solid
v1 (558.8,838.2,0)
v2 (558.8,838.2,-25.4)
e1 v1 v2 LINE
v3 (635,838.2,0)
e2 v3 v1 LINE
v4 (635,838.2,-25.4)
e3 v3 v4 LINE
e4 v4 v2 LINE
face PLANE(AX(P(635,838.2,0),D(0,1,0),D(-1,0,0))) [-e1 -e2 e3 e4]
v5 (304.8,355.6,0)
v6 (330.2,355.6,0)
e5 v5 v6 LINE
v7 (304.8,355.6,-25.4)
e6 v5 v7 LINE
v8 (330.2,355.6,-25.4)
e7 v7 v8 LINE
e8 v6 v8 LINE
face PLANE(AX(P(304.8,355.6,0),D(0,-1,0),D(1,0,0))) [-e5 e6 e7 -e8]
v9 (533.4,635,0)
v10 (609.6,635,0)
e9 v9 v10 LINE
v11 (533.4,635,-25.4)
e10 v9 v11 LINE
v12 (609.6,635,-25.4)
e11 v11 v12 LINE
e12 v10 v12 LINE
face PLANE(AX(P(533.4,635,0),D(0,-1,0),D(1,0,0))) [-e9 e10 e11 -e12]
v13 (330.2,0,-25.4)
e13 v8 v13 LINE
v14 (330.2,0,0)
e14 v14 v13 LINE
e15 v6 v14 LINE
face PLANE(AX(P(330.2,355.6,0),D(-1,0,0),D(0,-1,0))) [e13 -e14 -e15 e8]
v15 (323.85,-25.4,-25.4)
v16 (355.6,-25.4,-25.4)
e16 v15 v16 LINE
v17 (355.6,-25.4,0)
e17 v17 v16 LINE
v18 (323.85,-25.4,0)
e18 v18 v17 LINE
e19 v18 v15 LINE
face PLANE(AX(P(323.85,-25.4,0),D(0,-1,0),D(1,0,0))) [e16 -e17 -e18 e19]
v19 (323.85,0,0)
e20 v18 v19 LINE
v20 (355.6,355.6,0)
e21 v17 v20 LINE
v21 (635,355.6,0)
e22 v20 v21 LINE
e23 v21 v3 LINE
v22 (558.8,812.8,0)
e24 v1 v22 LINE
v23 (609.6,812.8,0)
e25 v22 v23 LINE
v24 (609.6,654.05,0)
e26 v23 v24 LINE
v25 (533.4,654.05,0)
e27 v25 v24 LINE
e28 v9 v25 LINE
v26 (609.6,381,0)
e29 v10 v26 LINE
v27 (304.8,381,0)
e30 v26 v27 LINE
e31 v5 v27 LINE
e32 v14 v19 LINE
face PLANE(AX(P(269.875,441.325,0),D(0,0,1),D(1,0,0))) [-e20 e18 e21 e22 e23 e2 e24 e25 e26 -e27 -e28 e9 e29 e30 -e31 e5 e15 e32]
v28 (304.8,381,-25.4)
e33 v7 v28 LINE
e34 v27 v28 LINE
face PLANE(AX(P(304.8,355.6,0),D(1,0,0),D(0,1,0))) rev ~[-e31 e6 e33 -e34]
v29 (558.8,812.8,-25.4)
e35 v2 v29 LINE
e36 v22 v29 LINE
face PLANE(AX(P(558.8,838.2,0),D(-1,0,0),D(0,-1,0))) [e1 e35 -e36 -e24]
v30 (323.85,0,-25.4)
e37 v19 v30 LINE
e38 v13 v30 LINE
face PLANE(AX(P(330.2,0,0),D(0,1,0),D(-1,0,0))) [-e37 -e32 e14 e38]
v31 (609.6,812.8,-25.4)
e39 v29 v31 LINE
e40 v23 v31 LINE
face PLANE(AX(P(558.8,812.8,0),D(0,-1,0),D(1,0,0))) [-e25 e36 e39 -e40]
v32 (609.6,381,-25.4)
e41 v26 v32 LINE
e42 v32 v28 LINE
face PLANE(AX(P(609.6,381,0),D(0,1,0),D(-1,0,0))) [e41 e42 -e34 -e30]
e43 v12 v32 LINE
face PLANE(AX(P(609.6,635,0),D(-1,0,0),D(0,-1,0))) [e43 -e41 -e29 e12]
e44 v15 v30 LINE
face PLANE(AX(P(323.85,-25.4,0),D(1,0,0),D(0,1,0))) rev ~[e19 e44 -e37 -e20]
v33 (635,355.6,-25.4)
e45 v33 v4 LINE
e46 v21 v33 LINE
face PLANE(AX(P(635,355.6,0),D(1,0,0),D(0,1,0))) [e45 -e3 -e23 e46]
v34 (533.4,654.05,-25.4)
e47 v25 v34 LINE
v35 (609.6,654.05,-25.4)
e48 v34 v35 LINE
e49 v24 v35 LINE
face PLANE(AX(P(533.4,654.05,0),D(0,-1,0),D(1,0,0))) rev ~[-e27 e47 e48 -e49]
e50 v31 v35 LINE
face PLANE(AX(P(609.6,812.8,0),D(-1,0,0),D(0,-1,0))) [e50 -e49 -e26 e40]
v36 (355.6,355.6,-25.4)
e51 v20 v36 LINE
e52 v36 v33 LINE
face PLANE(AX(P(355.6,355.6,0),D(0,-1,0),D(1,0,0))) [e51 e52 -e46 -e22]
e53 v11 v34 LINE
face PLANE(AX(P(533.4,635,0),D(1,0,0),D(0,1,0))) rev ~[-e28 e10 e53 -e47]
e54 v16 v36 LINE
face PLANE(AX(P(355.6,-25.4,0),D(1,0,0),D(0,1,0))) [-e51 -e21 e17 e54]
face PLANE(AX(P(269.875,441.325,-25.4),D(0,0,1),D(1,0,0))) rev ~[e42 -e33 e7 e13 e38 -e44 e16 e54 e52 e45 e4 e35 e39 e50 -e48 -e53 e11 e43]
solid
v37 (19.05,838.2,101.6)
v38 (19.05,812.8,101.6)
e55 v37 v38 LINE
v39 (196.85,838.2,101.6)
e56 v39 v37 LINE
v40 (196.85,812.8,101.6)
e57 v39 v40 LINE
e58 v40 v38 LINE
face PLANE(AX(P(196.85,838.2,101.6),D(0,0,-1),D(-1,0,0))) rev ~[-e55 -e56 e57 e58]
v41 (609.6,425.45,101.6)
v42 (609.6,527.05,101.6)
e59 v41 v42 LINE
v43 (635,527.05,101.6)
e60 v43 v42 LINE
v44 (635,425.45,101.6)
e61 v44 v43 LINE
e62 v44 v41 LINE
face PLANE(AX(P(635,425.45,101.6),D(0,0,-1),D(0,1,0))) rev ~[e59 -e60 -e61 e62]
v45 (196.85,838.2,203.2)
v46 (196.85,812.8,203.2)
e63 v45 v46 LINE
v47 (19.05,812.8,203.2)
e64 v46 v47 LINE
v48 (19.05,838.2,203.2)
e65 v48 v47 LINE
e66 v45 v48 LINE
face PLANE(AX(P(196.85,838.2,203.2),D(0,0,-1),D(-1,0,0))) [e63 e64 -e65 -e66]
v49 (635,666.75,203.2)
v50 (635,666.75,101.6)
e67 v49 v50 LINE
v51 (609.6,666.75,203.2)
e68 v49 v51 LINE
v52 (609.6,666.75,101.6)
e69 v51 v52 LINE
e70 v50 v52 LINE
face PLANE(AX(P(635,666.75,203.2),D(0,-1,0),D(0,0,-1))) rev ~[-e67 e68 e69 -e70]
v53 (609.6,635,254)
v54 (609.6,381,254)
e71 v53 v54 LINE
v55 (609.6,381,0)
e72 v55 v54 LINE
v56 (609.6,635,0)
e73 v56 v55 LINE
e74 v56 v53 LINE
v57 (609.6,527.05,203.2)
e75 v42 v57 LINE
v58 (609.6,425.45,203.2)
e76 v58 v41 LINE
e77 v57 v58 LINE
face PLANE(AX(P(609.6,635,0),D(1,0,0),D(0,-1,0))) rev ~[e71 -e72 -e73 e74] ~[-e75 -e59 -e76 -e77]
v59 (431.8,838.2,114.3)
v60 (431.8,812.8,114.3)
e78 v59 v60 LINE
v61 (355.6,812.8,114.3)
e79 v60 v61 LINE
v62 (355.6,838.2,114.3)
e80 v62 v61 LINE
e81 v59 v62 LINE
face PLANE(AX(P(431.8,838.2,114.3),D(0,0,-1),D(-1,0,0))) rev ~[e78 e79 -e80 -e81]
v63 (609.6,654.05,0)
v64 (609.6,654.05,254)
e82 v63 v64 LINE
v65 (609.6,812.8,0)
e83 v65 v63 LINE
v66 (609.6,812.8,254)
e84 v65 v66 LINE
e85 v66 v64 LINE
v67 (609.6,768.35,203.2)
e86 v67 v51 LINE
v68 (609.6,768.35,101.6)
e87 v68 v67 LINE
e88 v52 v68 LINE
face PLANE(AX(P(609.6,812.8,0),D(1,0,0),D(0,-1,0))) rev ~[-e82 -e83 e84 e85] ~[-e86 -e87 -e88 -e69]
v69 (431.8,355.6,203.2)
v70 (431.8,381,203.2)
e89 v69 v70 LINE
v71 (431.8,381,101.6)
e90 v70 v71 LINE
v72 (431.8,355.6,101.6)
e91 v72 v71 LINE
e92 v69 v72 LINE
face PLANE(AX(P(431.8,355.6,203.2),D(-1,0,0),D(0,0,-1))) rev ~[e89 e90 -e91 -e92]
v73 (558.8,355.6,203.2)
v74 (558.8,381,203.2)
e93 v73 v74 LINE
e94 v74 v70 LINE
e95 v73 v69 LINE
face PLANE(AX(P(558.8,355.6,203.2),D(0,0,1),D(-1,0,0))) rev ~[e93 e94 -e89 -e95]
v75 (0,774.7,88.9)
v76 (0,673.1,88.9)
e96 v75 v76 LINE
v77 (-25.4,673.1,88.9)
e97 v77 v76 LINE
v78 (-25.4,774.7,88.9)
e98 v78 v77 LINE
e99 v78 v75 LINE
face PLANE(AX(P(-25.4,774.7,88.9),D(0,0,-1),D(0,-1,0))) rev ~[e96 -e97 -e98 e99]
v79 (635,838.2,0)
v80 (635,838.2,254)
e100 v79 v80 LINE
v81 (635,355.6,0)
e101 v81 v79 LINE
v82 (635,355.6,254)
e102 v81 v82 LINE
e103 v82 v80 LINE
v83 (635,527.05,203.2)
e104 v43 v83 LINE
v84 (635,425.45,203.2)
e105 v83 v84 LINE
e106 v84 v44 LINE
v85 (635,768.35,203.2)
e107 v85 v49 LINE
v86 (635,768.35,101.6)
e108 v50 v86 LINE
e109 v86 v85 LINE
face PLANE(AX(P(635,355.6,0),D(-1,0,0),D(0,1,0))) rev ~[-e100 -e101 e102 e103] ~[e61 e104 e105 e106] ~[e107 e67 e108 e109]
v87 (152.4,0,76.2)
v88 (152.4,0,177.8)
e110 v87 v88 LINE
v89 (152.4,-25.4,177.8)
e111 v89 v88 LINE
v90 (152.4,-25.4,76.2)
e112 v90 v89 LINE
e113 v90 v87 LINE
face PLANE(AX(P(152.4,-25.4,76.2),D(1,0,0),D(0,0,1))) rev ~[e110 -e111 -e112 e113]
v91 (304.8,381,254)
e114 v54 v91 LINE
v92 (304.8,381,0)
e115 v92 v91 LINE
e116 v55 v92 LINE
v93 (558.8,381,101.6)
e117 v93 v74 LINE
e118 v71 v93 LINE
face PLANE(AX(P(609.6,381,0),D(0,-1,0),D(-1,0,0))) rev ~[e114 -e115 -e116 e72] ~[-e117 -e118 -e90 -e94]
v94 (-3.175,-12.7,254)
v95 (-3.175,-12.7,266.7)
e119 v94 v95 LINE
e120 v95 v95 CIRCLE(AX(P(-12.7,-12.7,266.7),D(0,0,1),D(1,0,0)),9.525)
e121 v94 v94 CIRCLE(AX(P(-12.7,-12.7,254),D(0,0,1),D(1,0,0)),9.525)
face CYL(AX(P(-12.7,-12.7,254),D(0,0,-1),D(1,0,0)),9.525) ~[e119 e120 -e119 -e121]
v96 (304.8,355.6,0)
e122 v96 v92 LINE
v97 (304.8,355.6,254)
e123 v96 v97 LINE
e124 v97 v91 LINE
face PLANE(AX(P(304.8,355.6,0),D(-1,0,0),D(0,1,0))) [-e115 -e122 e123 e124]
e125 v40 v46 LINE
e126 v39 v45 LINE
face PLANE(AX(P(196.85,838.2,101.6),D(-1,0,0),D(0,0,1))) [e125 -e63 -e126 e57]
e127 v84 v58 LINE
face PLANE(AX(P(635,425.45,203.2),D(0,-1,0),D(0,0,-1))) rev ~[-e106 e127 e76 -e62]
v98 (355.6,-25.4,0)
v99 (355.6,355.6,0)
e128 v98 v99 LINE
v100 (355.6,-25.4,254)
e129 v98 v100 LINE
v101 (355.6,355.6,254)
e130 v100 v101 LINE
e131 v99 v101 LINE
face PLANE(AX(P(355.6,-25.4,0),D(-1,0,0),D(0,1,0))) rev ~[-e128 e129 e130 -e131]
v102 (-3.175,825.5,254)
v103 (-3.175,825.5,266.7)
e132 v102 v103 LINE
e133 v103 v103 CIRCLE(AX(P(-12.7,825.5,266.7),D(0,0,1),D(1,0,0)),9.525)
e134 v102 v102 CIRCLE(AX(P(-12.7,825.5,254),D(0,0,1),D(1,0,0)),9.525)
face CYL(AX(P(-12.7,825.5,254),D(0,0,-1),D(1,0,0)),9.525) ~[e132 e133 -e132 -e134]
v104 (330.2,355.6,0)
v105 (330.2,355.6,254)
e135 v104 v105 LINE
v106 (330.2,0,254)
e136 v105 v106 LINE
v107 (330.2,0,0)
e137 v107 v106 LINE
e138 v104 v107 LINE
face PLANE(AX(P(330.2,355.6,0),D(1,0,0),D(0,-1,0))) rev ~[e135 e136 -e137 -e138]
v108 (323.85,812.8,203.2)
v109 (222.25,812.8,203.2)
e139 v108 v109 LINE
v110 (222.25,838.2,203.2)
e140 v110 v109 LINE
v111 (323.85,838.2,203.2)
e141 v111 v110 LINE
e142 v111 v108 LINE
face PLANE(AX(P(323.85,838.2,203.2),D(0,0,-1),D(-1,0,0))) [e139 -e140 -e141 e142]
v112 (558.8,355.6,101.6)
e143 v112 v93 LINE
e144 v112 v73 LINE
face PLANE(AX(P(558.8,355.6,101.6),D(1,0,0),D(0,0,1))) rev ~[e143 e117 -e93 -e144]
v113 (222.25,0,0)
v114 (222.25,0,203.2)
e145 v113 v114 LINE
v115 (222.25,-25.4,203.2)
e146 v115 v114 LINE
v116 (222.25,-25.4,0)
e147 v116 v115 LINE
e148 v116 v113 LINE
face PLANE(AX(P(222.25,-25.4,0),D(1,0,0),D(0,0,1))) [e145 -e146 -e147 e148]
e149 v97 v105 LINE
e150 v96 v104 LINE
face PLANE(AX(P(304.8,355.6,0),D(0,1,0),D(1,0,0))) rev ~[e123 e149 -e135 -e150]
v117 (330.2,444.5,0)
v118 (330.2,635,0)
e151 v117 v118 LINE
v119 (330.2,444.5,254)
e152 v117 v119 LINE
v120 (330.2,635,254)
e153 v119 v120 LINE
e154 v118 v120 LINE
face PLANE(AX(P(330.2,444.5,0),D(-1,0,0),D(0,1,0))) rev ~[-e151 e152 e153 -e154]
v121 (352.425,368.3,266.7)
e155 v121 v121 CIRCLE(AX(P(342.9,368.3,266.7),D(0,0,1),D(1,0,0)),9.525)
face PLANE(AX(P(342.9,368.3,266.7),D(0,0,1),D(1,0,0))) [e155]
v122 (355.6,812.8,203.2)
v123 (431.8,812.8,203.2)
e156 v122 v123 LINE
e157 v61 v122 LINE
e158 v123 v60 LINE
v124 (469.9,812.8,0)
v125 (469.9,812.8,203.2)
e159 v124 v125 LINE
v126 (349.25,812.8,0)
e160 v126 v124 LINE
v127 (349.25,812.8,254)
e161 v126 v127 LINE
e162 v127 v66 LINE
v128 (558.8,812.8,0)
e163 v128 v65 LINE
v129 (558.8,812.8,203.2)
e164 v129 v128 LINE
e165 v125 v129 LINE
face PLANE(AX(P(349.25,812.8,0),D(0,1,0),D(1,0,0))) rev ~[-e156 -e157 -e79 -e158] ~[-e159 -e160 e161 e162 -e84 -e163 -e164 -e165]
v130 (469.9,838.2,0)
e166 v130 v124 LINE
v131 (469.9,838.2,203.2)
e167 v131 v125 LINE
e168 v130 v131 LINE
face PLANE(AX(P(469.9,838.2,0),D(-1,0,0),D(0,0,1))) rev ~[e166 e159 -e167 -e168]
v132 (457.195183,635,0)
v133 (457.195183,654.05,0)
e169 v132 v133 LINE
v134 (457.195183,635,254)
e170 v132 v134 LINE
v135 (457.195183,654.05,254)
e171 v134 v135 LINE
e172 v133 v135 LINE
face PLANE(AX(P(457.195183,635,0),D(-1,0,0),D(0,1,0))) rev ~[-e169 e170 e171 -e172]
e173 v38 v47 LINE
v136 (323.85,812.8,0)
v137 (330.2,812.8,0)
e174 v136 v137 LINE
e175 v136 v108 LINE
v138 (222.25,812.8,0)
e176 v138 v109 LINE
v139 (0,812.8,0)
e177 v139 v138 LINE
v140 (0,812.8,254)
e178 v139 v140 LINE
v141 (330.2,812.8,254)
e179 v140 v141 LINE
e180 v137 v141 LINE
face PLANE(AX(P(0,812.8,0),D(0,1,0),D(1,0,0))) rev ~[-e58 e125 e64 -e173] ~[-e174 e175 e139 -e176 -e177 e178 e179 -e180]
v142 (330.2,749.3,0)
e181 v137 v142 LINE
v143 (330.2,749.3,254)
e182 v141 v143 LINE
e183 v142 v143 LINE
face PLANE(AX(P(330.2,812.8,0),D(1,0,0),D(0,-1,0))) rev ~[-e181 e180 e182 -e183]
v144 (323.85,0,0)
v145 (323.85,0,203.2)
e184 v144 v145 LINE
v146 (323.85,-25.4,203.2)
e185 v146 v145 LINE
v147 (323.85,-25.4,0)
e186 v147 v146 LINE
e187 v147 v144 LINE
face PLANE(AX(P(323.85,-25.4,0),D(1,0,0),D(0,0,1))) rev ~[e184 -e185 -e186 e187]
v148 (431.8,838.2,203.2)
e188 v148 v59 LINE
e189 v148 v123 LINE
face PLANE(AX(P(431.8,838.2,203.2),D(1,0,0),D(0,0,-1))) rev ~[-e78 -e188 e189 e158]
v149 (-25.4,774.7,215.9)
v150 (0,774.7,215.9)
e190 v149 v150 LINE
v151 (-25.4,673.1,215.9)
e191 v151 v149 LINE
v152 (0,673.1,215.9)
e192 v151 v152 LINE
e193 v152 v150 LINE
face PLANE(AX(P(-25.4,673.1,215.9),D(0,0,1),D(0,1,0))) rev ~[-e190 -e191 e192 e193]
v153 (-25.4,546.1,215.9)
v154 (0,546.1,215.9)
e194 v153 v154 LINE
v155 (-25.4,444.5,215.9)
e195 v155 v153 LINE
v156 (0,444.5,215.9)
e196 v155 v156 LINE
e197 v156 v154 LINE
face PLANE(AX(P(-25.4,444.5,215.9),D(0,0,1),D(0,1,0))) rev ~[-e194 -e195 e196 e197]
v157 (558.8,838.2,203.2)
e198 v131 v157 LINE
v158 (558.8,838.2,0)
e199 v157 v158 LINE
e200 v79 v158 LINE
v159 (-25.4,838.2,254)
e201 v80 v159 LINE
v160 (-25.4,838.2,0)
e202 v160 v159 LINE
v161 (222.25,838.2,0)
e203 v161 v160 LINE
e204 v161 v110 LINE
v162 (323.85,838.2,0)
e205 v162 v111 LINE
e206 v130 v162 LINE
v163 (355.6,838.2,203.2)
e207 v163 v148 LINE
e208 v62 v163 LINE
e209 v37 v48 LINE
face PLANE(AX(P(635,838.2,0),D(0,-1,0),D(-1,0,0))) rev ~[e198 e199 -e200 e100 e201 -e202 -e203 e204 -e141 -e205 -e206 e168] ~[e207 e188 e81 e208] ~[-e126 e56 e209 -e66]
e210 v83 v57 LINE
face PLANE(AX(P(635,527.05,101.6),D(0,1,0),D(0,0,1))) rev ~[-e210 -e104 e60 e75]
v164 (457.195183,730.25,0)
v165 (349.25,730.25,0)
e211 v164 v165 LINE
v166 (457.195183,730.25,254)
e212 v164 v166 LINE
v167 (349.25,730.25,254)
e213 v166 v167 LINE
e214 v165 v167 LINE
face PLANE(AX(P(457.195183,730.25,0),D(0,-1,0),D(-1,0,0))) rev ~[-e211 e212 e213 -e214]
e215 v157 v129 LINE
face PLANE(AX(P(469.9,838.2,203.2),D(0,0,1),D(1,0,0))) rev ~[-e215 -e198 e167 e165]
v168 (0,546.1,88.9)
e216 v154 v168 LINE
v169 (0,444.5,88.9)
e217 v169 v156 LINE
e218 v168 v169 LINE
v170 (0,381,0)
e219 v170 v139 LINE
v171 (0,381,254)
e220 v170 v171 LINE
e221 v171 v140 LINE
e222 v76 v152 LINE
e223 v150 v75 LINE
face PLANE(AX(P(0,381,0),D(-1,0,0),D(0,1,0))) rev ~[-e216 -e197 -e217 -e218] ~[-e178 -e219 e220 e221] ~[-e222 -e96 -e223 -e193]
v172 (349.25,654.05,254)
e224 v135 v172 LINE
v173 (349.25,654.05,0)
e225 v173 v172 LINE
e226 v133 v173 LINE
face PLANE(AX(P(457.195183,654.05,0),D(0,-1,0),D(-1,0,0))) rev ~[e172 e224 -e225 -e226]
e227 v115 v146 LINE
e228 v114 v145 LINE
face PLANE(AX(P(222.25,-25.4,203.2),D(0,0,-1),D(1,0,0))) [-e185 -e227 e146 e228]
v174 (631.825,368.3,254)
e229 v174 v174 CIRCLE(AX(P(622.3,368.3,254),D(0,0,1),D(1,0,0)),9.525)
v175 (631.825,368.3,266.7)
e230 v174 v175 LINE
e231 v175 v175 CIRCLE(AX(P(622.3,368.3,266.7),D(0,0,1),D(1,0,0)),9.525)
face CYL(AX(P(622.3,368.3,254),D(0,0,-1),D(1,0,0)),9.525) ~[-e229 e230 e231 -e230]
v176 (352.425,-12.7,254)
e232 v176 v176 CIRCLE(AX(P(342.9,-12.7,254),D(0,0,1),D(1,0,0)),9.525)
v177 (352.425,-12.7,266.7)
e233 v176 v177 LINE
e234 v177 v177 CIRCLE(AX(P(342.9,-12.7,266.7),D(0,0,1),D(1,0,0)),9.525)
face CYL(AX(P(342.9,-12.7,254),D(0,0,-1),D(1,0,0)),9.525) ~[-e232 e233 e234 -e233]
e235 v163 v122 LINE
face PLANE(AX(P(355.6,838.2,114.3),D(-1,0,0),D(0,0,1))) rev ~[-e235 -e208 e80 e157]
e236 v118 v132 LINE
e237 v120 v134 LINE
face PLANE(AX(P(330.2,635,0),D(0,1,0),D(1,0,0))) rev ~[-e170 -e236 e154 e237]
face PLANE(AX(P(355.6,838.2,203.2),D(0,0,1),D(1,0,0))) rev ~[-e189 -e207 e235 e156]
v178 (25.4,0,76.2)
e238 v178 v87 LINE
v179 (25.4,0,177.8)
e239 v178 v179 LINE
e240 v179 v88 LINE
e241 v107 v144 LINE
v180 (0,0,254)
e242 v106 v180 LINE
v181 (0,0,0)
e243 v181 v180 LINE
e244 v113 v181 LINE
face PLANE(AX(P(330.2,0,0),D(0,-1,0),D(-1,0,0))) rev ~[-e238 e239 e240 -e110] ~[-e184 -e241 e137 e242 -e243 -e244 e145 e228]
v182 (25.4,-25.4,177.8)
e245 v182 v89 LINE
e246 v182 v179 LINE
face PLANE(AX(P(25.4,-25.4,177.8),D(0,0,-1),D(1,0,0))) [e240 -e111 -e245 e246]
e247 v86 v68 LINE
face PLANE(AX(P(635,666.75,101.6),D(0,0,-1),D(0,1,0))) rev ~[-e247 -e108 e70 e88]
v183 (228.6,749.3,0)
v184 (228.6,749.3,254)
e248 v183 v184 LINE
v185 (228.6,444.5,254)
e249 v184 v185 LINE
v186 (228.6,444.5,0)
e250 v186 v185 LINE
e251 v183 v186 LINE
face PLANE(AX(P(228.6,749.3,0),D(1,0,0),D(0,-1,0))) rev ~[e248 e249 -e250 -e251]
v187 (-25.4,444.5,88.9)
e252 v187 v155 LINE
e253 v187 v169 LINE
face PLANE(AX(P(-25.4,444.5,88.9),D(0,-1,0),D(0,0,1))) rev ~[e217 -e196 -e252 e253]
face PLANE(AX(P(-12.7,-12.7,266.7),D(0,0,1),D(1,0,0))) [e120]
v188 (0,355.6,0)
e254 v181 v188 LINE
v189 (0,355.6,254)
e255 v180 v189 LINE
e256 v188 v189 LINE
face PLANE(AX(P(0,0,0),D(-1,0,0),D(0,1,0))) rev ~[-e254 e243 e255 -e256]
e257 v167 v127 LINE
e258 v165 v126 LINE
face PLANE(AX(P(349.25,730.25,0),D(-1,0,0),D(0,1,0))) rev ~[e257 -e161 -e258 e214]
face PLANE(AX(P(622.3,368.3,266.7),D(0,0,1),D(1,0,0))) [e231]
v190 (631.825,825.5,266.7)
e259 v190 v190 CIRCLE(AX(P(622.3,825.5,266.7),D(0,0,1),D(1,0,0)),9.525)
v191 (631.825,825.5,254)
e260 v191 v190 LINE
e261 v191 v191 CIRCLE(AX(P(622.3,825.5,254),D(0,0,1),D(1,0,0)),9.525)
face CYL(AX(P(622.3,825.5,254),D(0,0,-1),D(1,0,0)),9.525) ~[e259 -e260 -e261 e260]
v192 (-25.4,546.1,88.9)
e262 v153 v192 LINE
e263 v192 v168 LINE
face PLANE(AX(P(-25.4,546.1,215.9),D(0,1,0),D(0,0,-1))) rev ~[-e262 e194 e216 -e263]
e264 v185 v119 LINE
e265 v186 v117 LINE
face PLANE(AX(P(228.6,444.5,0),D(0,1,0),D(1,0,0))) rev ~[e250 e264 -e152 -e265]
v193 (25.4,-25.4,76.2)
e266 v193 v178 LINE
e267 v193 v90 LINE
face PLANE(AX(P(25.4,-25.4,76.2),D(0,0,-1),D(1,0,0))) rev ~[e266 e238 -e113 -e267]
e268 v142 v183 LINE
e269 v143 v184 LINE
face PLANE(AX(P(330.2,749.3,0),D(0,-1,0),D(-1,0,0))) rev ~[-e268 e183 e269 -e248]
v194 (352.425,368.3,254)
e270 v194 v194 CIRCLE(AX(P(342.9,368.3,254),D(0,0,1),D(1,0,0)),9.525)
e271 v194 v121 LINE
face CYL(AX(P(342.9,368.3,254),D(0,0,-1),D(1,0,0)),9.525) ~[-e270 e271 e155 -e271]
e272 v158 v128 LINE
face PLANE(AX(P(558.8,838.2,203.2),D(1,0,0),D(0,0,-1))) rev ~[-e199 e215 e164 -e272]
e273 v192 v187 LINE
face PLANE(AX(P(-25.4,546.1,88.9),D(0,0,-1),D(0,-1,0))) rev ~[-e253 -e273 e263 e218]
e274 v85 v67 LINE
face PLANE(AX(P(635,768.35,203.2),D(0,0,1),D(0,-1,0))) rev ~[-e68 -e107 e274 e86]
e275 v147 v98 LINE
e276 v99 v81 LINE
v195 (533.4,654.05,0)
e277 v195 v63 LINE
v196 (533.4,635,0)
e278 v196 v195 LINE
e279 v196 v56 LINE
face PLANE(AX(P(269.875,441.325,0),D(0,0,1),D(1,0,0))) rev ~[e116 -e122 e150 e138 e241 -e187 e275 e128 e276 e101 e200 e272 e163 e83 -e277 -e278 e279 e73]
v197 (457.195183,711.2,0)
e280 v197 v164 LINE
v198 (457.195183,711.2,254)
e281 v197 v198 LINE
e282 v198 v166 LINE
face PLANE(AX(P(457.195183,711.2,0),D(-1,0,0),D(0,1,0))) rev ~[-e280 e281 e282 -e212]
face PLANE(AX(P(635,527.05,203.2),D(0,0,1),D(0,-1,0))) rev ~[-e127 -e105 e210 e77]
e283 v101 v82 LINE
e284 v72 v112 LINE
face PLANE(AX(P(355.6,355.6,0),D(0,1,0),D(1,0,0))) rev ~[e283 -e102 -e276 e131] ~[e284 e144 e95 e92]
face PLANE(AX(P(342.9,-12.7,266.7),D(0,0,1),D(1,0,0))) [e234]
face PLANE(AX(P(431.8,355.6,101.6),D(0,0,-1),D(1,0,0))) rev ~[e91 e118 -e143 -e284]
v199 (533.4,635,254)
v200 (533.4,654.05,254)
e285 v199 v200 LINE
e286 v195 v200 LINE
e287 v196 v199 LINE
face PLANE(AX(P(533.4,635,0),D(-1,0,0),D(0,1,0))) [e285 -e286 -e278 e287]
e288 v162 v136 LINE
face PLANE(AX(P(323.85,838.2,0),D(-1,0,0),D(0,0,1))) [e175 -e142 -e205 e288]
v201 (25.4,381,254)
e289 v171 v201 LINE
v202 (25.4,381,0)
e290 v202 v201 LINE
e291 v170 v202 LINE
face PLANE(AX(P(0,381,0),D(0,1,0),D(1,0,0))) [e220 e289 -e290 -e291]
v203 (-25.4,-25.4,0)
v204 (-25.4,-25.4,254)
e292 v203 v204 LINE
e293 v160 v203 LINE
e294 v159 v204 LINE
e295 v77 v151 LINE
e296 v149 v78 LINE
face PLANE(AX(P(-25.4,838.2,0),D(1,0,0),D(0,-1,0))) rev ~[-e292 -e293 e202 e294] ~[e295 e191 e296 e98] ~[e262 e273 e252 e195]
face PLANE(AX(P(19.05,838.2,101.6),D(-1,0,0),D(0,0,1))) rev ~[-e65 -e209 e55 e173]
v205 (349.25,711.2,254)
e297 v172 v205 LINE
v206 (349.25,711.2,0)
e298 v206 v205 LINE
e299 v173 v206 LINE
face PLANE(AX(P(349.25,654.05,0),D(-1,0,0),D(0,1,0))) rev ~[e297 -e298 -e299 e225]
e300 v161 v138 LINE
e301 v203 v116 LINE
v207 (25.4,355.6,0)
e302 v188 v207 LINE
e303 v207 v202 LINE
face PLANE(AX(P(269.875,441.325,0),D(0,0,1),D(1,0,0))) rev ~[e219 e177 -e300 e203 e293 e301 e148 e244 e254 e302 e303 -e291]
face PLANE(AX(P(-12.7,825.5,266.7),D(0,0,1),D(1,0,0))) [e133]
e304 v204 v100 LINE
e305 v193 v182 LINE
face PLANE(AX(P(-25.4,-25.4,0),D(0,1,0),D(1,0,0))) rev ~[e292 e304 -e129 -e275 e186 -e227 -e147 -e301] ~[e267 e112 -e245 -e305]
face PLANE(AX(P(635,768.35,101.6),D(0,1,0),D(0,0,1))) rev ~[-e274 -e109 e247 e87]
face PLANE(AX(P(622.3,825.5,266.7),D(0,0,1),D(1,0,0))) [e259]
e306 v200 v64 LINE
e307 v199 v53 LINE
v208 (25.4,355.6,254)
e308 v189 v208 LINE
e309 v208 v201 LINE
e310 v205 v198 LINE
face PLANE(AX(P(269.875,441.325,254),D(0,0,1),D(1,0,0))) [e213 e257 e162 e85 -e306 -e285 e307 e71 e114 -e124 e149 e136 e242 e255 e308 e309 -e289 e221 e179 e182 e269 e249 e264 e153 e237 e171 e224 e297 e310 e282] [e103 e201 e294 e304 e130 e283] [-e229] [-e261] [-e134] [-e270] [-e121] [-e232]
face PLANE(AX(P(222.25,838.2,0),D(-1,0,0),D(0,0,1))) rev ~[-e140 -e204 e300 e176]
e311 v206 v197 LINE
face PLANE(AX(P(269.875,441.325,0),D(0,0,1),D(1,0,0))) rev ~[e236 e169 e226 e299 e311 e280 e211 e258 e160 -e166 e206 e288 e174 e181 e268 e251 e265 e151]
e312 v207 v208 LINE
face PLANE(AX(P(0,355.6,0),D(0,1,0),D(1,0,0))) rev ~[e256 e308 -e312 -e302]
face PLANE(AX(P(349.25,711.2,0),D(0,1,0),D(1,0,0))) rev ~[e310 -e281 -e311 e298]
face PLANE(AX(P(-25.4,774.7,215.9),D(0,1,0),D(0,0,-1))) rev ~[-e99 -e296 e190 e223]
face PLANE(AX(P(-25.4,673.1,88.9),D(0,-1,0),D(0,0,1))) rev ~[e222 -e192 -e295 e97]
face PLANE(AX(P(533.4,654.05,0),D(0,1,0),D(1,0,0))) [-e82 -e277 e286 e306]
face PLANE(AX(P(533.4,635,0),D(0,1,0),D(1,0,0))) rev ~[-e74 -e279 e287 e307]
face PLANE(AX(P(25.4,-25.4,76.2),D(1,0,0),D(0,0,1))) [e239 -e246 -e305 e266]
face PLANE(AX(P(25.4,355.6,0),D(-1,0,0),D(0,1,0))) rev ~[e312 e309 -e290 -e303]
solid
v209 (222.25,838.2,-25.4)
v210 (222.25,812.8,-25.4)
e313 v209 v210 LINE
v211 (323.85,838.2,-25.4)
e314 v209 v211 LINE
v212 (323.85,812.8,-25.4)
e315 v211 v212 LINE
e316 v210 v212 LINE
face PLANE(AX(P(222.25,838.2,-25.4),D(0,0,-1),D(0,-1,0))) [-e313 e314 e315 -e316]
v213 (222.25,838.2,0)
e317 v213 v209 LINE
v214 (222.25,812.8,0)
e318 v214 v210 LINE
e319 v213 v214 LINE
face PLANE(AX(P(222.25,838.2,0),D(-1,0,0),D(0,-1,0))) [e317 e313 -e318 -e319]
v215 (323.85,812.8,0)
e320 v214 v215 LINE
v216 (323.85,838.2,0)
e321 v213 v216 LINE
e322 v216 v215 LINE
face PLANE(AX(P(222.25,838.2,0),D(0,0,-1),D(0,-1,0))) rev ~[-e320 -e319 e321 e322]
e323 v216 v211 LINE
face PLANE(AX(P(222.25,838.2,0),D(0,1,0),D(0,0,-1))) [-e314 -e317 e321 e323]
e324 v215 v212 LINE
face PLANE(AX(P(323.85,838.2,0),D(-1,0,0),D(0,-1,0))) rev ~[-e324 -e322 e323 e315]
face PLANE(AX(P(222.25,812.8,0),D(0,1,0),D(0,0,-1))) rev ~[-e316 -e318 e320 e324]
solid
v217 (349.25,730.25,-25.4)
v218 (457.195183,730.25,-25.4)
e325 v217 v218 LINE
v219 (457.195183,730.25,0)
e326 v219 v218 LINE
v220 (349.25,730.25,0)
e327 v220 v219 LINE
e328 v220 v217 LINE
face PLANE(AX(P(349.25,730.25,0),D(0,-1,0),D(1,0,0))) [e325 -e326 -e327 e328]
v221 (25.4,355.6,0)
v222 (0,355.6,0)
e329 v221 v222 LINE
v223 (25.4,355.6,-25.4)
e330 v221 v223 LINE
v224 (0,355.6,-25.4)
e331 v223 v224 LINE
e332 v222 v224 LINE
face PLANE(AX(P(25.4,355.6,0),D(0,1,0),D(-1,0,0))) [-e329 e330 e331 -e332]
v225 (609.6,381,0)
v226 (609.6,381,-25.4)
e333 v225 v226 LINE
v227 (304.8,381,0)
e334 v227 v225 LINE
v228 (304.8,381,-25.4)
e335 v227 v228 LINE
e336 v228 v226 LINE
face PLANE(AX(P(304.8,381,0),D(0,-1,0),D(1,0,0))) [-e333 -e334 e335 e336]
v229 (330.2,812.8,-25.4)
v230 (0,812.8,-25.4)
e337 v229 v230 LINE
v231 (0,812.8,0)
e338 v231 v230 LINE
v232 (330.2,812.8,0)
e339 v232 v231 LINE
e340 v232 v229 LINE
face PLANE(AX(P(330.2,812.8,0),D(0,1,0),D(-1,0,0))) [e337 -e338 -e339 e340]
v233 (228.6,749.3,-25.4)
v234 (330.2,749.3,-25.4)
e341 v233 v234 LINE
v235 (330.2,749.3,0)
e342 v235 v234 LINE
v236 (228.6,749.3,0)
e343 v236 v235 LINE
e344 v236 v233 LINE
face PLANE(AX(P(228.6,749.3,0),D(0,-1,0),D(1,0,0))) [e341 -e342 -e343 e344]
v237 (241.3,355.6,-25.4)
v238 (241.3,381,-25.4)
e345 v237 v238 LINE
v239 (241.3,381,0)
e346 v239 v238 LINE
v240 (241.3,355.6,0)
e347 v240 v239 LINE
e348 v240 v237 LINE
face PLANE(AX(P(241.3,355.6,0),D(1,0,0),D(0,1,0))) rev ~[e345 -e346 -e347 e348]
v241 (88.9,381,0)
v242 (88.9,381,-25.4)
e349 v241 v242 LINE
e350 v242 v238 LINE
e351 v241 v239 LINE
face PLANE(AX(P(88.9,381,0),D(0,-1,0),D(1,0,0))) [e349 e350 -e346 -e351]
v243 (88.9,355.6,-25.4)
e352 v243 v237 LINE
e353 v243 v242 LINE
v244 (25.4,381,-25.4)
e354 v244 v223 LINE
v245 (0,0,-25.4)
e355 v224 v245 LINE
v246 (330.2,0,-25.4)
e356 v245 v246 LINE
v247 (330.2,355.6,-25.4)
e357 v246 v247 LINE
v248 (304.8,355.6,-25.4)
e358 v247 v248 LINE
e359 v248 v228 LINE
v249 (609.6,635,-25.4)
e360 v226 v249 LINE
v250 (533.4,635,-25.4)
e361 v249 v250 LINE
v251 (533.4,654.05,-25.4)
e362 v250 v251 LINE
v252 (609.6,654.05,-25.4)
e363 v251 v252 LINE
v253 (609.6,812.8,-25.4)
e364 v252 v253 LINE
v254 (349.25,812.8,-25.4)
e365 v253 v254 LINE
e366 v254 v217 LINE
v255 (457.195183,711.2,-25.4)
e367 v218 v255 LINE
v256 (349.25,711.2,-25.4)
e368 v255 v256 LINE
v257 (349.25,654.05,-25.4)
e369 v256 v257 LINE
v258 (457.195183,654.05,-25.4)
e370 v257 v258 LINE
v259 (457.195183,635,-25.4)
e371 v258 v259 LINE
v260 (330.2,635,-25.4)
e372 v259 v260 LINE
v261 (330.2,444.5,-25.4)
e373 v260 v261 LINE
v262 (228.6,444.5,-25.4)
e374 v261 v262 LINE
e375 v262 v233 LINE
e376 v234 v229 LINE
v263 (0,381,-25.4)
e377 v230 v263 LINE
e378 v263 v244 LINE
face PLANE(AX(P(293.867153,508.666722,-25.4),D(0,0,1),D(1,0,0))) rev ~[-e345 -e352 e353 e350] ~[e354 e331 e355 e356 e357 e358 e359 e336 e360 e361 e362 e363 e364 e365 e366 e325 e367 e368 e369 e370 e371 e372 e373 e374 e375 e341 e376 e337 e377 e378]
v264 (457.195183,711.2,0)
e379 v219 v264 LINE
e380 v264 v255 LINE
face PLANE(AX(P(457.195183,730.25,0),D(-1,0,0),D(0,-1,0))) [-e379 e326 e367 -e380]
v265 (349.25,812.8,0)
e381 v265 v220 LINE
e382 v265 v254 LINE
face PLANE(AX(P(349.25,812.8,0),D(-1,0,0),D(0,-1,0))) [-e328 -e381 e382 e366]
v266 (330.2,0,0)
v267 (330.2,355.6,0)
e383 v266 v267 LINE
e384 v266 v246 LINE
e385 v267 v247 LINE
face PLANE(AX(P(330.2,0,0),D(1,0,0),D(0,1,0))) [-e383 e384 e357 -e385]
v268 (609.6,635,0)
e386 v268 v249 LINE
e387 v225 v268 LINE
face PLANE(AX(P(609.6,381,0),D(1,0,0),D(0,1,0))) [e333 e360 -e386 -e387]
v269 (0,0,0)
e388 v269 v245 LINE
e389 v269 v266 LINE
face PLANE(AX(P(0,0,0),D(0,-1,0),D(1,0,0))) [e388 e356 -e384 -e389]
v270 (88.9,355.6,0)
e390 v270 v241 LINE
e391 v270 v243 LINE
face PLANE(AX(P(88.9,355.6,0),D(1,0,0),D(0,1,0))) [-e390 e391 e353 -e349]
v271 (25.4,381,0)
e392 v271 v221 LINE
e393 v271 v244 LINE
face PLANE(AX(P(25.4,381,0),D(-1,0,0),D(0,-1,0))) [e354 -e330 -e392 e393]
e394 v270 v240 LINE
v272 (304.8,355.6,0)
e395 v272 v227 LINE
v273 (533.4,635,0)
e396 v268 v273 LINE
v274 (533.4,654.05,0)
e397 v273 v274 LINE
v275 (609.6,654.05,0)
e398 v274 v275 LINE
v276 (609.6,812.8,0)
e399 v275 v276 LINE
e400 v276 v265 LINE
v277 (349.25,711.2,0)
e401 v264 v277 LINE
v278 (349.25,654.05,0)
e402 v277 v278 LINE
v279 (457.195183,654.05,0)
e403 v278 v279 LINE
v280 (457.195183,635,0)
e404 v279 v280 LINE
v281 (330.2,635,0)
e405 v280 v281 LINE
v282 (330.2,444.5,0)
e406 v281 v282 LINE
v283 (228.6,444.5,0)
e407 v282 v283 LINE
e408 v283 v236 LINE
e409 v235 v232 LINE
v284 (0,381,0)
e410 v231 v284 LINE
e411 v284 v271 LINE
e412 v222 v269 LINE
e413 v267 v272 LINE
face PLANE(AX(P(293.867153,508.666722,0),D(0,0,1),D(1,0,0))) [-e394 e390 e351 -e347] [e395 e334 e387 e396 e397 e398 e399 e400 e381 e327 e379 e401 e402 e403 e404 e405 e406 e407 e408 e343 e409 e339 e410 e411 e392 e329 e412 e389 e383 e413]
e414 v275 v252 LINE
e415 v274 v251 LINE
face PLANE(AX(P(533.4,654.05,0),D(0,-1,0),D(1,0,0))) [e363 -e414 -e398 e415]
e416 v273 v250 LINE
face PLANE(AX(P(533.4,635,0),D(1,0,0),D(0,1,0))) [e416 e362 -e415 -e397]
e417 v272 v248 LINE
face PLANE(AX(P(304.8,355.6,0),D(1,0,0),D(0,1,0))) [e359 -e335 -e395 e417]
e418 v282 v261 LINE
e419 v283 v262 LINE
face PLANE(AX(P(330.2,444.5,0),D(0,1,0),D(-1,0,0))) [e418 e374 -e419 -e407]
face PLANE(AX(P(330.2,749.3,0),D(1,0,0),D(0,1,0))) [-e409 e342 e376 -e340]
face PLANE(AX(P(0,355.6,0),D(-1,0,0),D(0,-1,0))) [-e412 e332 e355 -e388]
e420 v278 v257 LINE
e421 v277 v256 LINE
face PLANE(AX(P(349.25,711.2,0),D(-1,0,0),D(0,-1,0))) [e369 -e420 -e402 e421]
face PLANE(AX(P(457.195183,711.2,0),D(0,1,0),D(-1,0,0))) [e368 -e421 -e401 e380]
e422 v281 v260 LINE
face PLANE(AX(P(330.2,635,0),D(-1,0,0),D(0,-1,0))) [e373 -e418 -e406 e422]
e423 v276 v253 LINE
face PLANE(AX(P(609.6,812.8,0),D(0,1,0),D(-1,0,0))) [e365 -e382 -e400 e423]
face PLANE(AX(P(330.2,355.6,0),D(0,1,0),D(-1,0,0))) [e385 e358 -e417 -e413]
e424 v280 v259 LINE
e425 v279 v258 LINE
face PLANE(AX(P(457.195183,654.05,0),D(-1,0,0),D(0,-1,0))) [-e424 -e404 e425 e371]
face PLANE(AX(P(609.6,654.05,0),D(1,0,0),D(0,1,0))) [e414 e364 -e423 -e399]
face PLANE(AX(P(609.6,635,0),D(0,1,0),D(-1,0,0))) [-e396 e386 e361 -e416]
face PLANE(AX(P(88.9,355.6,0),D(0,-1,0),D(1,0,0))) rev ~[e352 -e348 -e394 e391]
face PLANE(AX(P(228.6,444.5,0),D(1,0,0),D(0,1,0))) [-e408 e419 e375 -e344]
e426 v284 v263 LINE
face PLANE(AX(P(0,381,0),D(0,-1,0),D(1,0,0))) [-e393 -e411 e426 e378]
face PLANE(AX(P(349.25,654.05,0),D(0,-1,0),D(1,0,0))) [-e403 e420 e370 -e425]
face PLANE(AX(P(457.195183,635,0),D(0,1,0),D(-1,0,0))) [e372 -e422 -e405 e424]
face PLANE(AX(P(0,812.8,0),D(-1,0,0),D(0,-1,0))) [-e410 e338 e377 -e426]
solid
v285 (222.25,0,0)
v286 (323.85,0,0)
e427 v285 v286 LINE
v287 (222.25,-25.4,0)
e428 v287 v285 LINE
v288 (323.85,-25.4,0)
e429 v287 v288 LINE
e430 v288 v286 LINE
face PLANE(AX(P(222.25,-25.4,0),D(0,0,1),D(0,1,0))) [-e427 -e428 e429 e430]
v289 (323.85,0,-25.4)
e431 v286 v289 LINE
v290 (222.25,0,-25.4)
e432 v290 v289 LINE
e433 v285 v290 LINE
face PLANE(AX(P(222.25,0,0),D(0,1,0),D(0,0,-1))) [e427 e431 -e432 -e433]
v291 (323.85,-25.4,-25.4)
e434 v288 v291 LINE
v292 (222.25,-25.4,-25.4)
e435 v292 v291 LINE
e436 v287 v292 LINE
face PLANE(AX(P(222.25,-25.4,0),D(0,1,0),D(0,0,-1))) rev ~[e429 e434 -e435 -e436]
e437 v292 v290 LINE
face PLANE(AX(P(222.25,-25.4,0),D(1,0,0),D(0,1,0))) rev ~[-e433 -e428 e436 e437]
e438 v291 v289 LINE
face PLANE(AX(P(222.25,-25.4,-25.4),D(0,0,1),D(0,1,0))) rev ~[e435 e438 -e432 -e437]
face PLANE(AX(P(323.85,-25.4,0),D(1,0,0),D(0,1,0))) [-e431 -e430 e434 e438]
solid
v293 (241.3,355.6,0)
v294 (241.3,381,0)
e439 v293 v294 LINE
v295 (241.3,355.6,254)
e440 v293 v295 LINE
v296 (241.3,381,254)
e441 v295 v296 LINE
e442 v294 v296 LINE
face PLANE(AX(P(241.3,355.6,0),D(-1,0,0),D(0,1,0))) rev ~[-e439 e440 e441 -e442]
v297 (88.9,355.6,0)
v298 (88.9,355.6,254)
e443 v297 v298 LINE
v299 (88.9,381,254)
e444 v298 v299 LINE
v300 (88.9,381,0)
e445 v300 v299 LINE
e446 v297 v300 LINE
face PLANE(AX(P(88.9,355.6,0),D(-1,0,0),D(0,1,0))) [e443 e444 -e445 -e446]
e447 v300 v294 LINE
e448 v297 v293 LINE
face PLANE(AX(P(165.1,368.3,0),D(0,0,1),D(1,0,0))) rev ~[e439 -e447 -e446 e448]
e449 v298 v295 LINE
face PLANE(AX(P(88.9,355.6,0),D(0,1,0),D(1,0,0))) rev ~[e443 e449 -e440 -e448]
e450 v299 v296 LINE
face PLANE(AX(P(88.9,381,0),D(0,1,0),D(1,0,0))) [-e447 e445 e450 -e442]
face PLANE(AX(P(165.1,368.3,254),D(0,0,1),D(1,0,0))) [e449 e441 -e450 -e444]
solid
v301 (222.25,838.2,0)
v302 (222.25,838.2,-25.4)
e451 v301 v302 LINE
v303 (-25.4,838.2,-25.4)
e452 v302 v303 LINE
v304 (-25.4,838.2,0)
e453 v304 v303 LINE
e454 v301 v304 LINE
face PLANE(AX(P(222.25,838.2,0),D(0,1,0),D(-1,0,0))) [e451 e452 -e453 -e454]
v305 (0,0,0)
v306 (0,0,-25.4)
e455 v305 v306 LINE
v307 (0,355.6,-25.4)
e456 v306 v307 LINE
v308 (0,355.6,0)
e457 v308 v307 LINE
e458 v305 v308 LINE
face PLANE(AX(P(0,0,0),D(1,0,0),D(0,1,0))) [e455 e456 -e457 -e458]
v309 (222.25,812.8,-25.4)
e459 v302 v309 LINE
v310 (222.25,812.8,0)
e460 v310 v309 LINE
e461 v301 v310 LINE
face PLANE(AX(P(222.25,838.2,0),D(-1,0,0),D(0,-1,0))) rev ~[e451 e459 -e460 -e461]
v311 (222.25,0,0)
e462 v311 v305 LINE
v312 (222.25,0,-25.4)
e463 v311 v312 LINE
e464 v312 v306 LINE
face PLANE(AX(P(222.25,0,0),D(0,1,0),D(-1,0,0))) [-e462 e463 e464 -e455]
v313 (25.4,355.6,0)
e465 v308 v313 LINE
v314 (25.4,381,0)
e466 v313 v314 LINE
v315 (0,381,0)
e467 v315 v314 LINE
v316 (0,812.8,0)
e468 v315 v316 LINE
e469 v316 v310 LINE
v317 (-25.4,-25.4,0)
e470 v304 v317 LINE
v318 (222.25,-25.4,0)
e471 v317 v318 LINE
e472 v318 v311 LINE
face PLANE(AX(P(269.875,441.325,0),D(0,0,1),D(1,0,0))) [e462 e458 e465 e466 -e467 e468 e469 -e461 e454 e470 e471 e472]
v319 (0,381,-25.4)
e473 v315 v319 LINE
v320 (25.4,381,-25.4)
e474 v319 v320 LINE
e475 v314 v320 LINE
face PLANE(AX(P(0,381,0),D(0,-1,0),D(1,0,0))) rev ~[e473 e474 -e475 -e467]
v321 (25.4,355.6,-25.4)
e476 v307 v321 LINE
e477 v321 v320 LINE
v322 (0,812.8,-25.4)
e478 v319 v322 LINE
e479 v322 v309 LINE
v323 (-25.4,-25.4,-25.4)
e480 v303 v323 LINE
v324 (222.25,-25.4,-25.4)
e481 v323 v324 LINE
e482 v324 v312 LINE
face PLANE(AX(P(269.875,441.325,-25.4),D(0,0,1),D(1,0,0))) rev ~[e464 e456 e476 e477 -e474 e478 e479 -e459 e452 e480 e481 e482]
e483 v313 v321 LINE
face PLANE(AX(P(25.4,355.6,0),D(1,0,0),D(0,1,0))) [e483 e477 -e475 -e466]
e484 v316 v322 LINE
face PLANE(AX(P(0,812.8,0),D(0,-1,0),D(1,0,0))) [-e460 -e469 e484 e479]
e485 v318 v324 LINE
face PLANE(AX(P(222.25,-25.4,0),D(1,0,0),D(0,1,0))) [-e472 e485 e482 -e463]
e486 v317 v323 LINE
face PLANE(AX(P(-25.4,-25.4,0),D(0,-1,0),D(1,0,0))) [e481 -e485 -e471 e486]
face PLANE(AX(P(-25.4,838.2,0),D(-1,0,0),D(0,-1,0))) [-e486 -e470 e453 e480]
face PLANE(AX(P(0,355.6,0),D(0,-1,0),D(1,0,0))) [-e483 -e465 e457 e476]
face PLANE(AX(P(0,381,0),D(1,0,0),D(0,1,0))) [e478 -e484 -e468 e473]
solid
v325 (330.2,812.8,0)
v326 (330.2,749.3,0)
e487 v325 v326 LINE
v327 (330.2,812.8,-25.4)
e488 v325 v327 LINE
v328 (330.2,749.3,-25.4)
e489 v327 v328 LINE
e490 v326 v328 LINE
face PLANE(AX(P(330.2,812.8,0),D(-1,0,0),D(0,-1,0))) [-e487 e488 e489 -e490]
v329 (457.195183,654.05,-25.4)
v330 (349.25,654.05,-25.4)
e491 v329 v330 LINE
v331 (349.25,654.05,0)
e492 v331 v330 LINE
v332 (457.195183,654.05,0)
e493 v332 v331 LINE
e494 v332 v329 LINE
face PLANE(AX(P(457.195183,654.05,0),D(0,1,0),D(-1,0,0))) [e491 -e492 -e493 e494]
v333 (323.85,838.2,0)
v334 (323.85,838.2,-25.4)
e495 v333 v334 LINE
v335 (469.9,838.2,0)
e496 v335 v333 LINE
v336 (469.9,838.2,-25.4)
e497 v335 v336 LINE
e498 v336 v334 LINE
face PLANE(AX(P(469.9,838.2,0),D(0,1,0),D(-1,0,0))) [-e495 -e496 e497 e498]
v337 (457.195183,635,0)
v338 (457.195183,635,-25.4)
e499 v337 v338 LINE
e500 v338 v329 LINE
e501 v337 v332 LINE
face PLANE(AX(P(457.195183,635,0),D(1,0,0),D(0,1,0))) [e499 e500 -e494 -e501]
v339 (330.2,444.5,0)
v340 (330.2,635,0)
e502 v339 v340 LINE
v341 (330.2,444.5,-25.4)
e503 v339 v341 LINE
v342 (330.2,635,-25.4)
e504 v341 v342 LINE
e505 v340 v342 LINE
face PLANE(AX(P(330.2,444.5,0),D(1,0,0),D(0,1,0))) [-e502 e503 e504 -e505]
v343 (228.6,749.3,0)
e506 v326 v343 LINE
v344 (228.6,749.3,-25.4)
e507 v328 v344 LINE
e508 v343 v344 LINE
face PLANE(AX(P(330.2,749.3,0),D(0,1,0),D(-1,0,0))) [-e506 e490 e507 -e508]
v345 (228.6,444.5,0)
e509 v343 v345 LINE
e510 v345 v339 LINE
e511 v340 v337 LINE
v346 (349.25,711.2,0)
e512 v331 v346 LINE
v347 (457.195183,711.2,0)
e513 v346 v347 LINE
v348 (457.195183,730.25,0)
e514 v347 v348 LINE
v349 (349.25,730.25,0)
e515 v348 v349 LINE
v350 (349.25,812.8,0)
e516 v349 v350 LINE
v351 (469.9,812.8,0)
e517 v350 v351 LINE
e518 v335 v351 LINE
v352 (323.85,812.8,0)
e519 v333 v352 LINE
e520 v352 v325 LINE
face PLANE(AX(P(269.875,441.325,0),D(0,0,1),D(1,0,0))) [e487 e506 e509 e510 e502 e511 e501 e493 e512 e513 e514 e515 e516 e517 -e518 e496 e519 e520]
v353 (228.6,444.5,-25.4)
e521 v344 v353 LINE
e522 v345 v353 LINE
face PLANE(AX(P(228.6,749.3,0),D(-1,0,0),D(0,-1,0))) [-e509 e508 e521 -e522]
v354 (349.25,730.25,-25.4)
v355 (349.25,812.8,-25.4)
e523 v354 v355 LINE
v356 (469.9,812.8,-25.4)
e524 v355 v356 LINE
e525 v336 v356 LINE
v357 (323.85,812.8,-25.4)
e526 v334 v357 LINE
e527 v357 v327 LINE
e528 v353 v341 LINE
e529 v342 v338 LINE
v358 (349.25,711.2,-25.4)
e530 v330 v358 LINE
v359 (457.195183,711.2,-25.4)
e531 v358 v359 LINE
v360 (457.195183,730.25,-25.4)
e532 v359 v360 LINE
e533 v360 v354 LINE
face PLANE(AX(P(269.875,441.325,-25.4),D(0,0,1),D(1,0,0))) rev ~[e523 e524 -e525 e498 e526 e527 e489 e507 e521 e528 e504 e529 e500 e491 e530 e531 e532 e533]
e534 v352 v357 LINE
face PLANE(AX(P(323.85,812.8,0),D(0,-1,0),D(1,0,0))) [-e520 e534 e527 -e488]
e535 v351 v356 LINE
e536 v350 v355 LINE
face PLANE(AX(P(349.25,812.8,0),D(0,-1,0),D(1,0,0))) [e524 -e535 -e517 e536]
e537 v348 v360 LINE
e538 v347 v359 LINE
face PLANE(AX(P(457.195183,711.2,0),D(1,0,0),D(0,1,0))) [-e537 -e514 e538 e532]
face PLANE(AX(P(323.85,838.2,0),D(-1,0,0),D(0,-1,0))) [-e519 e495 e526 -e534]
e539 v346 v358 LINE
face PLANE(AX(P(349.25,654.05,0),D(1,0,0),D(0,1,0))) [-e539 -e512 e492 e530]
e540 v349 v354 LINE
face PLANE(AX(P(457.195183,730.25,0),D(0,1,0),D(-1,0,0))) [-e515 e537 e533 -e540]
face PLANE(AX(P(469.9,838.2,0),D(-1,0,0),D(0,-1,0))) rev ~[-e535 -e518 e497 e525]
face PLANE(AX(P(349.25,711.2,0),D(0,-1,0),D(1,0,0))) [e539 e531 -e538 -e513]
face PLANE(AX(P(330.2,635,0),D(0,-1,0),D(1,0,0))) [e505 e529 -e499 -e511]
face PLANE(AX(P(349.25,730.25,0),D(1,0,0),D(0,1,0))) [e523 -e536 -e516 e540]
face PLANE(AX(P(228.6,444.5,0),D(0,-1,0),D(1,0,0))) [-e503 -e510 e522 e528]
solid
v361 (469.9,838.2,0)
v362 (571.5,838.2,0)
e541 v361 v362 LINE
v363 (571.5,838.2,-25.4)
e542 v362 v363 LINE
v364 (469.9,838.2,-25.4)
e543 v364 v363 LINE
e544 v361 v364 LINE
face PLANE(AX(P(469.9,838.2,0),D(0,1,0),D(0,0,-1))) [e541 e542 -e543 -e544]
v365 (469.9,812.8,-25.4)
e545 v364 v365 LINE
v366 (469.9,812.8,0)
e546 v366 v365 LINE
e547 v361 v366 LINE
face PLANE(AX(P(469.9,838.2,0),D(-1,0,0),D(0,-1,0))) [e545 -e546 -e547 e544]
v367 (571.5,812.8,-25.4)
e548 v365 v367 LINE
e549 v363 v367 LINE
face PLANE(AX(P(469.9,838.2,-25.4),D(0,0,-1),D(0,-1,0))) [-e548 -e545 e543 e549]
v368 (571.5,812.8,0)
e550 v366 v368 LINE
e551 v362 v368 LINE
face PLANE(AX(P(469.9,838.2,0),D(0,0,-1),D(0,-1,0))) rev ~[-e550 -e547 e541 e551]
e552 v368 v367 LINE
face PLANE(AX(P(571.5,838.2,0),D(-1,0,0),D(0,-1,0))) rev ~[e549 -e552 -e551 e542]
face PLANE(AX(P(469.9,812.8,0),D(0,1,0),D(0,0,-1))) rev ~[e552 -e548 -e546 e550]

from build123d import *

# Parameters (mm, degrees)
F0_W      = 25.4
F0_H      = 25.4
F0_W_2    = 76.2
F0_H_2    = 19.05
F1_DEPTH  = 254
F0_W_3    = 152.4
F2_DEPTH  = 25.4
F3_R      = 9.525
F4_DEPTH  = 12.7
F5_W      = 127
F5_H      = 101.6
F6_DEPTH  = 25.4
F7_W      = 101.6
F7_H      = 203.2
F8_DEPTH  = 25.4
F10_DEPTH = 25.4
F12_DEPTH = 25.4
F13_DEPTH = 25.4
F15_DEPTH = 25.4
F16_DEPTH = 25.4
F17_W     = 101.6
F17_H     = 203.2
F17_W_2   = 177.8
F17_H_2   = 101.6
F18_DEPTH = 25.4
F19_DEPTH = 25.4
F21_DEPTH = 25.4
F22_DEPTH = 25.4
F23_DEPTH = 25.4
F24_DEPTH = 101.6
F25_DEPTH = 101.6


with BuildPart() as f1:
    # F0 (on Top) → F1 (new body)
    with BuildSketch(Plane.XY):
        Polygon((355.6, -25.4), (355.6, 0), (355.6, 355.6), (635, 355.6), (635, 838.2), (-25.4, 838.2), (-25.4, -25.4), align=None)
        Polygon((330.2, 0), (0, 0), (0, 355.6), (0, 381), (0, 812.8), (330.2, 812.8), (349.25, 812.8), (508, 812.8), (609.6, 812.8), (609.6, 654.05), (609.6, 635), (609.6, 381), (330.2, 381), (330.2, 355.6), align=None, mode=Mode.SUBTRACT)
        with Locations((12.7, 368.3)):
            Rectangle(F0_W, F0_H)
        with Locations((317.5, 368.3)):
            Rectangle(F0_W, F0_H)
        Polygon((330.2, 711.2), (330.2, 749.3), (228.6, 749.3), (228.6, 444.5), (330.2, 444.5), (330.2, 635), (330.2, 672.4181091309), align=None)
        Polygon((349.25, 812.8), (330.2, 812.8), (330.2, 749.3), (330.2, 711.2), (349.25, 711.2), (457.1951833257, 711.2), (457.1951833257, 730.25), (349.25, 730.25), align=None)
        Polygon((349.25, 711.2), (330.2, 711.2), (330.2, 672.4181091309), (330.2, 635), (457.1951833257, 635), (457.1951833257, 654.05), (349.25, 654.05), align=None)
        with Locations((571.5, 644.525)):
            Rectangle(F0_W_2, F0_H_2)
    extrude(amount=F1_DEPTH)

    # F3 (on face) → F4 (join)
    with BuildSketch(Plane.XY.offset(254)):
        with Locations((-12.7, -12.7)):
            Circle(F3_R)
        with Locations((342.9, -12.7)):
            Circle(F3_R)
        with Locations((342.9, 368.3)):
            Circle(F3_R)
        with Locations((622.3, 368.3)):
            Circle(F3_R)
        with Locations((622.3, 825.5)):
            Circle(F3_R)
        with Locations((-12.7, 825.5)):
            Circle(F3_R)
    extrude(amount=F4_DEPTH)

    # F5 (on face) → F6 (cut)
    with BuildSketch(Plane.XZ.offset(25.4)):
        with Locations((88.9, 127)):
            Rectangle(F5_W, F5_H)
    extrude(amount=-F6_DEPTH, mode=Mode.SUBTRACT)

    # F7 (on face) → F8 (cut)
    with BuildSketch(Plane.XZ.offset(25.4)):
        with Locations((273.05, 101.6)):
            Rectangle(F7_W, F7_H)
    extrude(amount=-F8_DEPTH, mode=Mode.SUBTRACT)

    # F9 (on face) → F10 (cut)
    with BuildSketch(Plane.XZ.offset(-355.6)):
        Polygon((431.8, 101.6), (495.3, 101.6), (558.8, 101.6), (558.8, 203.2), (431.8, 203.2), align=None)
    extrude(amount=-F10_DEPTH, mode=Mode.SUBTRACT)

    # F11 (on face) → F12 (cut)
    with BuildSketch(Plane.YZ.offset(635)):
        Polygon((527.05, 203.2), (476.25, 203.2), (425.45, 203.2), (425.45, 101.6), (527.05, 101.6), align=None)
        Polygon((768.35, 203.2), (717.55, 203.2), (666.75, 203.2), (666.75, 101.6), (768.35, 101.6), align=None)
    extrude(amount=-F12_DEPTH, mode=Mode.SUBTRACT)

    # F11 (on face) → F13 (cut)
    with BuildSketch(Plane.YZ.offset(635)):
        Polygon((527.05, 203.2), (476.25, 203.2), (425.45, 203.2), (425.45, 101.6), (527.05, 101.6), align=None)
        Polygon((768.35, 203.2), (717.55, 203.2), (666.75, 203.2), (666.75, 101.6), (768.35, 101.6), align=None)
    extrude(amount=-F13_DEPTH, mode=Mode.SUBTRACT)

    # F14 (on face) → F15 (cut)
    with BuildSketch(Plane(origin=(-25.4, 0, 0), x_dir=(0, -1, 0), z_dir=(-1, 0, 0))):
        Polygon((-673.1, 215.9), (-723.9, 215.9), (-774.7, 215.9), (-774.7, 88.9), (-673.1, 88.9), align=None)
        Polygon((-546.1, 215.9), (-546.1, 88.9), (-444.5, 88.9), (-444.5, 215.9), (-495.3, 215.9), align=None)
    extrude(amount=-F15_DEPTH, mode=Mode.SUBTRACT)

    # F14 (on face) → F16 (cut)
    with BuildSketch(Plane(origin=(-25.4, 0, 0), x_dir=(0, -1, 0), z_dir=(-1, 0, 0))):
        Polygon((-673.1, 215.9), (-723.9, 215.9), (-774.7, 215.9), (-774.7, 88.9), (-673.1, 88.9), align=None)
        Polygon((-546.1, 215.9), (-546.1, 88.9), (-444.5, 88.9), (-444.5, 215.9), (-495.3, 215.9), align=None)
    extrude(amount=-F16_DEPTH, mode=Mode.SUBTRACT)

    # F17 (on face) → F18 (cut)
    with BuildSketch(Plane(origin=(0, 838.2, 0), x_dir=(-1, 0, 0), z_dir=(0, 1, 0))):
        with Locations((-273.05, 101.6)):
            Rectangle(F17_W, F17_H)
        with Locations((-107.95, 152.4)):
            Rectangle(F17_W_2, F17_H_2)
    extrude(amount=-F18_DEPTH, mode=Mode.SUBTRACT)

    # F17 (on face) → F19 (cut)
    with BuildSketch(Plane(origin=(0, 838.2, 0), x_dir=(-1, 0, 0), z_dir=(0, 1, 0))):
        with Locations((-273.05, 101.6)):
            Rectangle(F17_W, F17_H)
        with Locations((-107.95, 152.4)):
            Rectangle(F17_W_2, F17_H_2)
    extrude(amount=-F19_DEPTH, mode=Mode.SUBTRACT)

    # F20 (on face) → F21 (cut)
    with BuildSketch(Plane(origin=(0, 838.2, 0), x_dir=(-1, 0, 0), z_dir=(0, 1, 0))):
        Polygon((-431.8, 203.2), (-431.8, 114.3), (-355.6, 114.3), (-355.6, 139.7), (-355.6, 203.2), align=None)
    extrude(amount=-F21_DEPTH, mode=Mode.SUBTRACT)

    # F20 (on face) → F22 (cut)
    with BuildSketch(Plane(origin=(0, 838.2, 0), x_dir=(-1, 0, 0), z_dir=(0, 1, 0))):
        Polygon((-355.6, 114.3), (-355.6, 139.7), (-355.6, 203.2), (-431.8, 203.2), (-431.8, 114.3), align=None)
        Polygon((-469.9, 0), (-469.9, 114.3), (-469.9, 203.2), (-558.8, 203.2), (-558.8, 0), align=None)
    extrude(amount=-F22_DEPTH, mode=Mode.SUBTRACT)


with BuildPart() as f1b:
    # F0 (on Top) → F1, piece 2 (new body)
    with BuildSketch(Plane.XY):
        with Locations((165.1, 368.3)):
            Rectangle(F0_W_3, F0_H)
    extrude(amount=F1_DEPTH)


with BuildPart() as f2:
    # F0 (on Top) → F2 (new body)
    with BuildSketch(Plane.XY):
        Polygon((0, 355.6), (0, 0), (330.2, 0), (330.2, 355.6), (304.8, 355.6), (304.8, 381), (330.2, 381), (609.6, 381), (609.6, 635), (533.4, 635), (533.4, 654.05), (609.6, 654.05), (609.6, 812.8), (508, 812.8), (349.25, 812.8), (349.25, 730.25), (457.1951833257, 730.25), (457.1951833257, 711.2), (349.25, 711.2), (349.25, 654.05), (457.1951833257, 654.05), (457.1951833257, 635), (330.2, 635), (330.2, 444.5), (228.6, 444.5), (228.6, 749.3), (330.2, 749.3), (330.2, 812.8), (0, 812.8), (0, 381), (25.4, 381), (25.4, 355.6), align=None)
        with Locations((165.1, 368.3)):
            Rectangle(F0_W_3, F0_H, mode=Mode.SUBTRACT)
    extrude(amount=-F2_DEPTH)


with BuildPart() as f23:
    # F23 (new): a face of the model
    f23_faces = [f1.part.faces().sort_by_distance(p)[0] for p in [
        (306.6509224032, 635.5643745872, 0),
    ]]
    extrude(f23_faces, amount=F23_DEPTH)


with BuildPart() as f23b:
    # F23#2 (new): a face of the model
    f23_2_faces = [f1.part.faces().sort_by_distance(p)[0] for p in [
        (625.7542604406, 596.9, 0),
    ]]
    extrude(f23_2_faces, amount=F23_DEPTH)


with BuildPart() as f23c:
    # F23#3 (new): a face of the model
    f23_3_faces = [f1.part.faces().sort_by_distance(p)[0] for p in [
        (98.425, 829.2159280808, 0),
    ]]
    extrude(f23_3_faces, amount=F23_DEPTH)


with BuildPart() as f24:
    # F24 (new): a face of the model
    f24_faces = [f23c.part.faces().sort_by_distance(p)[0] for p in [
        (222.25, -12.7, -12.7),
    ]]
    extrude(f24_faces, amount=F24_DEPTH)


with BuildPart() as f25:
    # F25 (new): a face of the model
    f25_faces = [f23c.part.faces().sort_by_distance(p)[0] for p in [
        (222.25, 825.5, -12.7),
    ]]
    extrude(f25_faces, amount=F25_DEPTH)


with BuildPart() as f25b:
    # F25#2 (new): a face of the model
    f25_2_faces = [f23.part.faces().sort_by_distance(p)[0] for p in [
        (469.9, 825.5, -12.7),
    ]]
    extrude(f25_2_faces, amount=F25_DEPTH)


solid = Compound([f1.part, f1b.part, f2.part, f23.part, f23b.part, f23c.part, f24.part, f25.part, f25b.part])
